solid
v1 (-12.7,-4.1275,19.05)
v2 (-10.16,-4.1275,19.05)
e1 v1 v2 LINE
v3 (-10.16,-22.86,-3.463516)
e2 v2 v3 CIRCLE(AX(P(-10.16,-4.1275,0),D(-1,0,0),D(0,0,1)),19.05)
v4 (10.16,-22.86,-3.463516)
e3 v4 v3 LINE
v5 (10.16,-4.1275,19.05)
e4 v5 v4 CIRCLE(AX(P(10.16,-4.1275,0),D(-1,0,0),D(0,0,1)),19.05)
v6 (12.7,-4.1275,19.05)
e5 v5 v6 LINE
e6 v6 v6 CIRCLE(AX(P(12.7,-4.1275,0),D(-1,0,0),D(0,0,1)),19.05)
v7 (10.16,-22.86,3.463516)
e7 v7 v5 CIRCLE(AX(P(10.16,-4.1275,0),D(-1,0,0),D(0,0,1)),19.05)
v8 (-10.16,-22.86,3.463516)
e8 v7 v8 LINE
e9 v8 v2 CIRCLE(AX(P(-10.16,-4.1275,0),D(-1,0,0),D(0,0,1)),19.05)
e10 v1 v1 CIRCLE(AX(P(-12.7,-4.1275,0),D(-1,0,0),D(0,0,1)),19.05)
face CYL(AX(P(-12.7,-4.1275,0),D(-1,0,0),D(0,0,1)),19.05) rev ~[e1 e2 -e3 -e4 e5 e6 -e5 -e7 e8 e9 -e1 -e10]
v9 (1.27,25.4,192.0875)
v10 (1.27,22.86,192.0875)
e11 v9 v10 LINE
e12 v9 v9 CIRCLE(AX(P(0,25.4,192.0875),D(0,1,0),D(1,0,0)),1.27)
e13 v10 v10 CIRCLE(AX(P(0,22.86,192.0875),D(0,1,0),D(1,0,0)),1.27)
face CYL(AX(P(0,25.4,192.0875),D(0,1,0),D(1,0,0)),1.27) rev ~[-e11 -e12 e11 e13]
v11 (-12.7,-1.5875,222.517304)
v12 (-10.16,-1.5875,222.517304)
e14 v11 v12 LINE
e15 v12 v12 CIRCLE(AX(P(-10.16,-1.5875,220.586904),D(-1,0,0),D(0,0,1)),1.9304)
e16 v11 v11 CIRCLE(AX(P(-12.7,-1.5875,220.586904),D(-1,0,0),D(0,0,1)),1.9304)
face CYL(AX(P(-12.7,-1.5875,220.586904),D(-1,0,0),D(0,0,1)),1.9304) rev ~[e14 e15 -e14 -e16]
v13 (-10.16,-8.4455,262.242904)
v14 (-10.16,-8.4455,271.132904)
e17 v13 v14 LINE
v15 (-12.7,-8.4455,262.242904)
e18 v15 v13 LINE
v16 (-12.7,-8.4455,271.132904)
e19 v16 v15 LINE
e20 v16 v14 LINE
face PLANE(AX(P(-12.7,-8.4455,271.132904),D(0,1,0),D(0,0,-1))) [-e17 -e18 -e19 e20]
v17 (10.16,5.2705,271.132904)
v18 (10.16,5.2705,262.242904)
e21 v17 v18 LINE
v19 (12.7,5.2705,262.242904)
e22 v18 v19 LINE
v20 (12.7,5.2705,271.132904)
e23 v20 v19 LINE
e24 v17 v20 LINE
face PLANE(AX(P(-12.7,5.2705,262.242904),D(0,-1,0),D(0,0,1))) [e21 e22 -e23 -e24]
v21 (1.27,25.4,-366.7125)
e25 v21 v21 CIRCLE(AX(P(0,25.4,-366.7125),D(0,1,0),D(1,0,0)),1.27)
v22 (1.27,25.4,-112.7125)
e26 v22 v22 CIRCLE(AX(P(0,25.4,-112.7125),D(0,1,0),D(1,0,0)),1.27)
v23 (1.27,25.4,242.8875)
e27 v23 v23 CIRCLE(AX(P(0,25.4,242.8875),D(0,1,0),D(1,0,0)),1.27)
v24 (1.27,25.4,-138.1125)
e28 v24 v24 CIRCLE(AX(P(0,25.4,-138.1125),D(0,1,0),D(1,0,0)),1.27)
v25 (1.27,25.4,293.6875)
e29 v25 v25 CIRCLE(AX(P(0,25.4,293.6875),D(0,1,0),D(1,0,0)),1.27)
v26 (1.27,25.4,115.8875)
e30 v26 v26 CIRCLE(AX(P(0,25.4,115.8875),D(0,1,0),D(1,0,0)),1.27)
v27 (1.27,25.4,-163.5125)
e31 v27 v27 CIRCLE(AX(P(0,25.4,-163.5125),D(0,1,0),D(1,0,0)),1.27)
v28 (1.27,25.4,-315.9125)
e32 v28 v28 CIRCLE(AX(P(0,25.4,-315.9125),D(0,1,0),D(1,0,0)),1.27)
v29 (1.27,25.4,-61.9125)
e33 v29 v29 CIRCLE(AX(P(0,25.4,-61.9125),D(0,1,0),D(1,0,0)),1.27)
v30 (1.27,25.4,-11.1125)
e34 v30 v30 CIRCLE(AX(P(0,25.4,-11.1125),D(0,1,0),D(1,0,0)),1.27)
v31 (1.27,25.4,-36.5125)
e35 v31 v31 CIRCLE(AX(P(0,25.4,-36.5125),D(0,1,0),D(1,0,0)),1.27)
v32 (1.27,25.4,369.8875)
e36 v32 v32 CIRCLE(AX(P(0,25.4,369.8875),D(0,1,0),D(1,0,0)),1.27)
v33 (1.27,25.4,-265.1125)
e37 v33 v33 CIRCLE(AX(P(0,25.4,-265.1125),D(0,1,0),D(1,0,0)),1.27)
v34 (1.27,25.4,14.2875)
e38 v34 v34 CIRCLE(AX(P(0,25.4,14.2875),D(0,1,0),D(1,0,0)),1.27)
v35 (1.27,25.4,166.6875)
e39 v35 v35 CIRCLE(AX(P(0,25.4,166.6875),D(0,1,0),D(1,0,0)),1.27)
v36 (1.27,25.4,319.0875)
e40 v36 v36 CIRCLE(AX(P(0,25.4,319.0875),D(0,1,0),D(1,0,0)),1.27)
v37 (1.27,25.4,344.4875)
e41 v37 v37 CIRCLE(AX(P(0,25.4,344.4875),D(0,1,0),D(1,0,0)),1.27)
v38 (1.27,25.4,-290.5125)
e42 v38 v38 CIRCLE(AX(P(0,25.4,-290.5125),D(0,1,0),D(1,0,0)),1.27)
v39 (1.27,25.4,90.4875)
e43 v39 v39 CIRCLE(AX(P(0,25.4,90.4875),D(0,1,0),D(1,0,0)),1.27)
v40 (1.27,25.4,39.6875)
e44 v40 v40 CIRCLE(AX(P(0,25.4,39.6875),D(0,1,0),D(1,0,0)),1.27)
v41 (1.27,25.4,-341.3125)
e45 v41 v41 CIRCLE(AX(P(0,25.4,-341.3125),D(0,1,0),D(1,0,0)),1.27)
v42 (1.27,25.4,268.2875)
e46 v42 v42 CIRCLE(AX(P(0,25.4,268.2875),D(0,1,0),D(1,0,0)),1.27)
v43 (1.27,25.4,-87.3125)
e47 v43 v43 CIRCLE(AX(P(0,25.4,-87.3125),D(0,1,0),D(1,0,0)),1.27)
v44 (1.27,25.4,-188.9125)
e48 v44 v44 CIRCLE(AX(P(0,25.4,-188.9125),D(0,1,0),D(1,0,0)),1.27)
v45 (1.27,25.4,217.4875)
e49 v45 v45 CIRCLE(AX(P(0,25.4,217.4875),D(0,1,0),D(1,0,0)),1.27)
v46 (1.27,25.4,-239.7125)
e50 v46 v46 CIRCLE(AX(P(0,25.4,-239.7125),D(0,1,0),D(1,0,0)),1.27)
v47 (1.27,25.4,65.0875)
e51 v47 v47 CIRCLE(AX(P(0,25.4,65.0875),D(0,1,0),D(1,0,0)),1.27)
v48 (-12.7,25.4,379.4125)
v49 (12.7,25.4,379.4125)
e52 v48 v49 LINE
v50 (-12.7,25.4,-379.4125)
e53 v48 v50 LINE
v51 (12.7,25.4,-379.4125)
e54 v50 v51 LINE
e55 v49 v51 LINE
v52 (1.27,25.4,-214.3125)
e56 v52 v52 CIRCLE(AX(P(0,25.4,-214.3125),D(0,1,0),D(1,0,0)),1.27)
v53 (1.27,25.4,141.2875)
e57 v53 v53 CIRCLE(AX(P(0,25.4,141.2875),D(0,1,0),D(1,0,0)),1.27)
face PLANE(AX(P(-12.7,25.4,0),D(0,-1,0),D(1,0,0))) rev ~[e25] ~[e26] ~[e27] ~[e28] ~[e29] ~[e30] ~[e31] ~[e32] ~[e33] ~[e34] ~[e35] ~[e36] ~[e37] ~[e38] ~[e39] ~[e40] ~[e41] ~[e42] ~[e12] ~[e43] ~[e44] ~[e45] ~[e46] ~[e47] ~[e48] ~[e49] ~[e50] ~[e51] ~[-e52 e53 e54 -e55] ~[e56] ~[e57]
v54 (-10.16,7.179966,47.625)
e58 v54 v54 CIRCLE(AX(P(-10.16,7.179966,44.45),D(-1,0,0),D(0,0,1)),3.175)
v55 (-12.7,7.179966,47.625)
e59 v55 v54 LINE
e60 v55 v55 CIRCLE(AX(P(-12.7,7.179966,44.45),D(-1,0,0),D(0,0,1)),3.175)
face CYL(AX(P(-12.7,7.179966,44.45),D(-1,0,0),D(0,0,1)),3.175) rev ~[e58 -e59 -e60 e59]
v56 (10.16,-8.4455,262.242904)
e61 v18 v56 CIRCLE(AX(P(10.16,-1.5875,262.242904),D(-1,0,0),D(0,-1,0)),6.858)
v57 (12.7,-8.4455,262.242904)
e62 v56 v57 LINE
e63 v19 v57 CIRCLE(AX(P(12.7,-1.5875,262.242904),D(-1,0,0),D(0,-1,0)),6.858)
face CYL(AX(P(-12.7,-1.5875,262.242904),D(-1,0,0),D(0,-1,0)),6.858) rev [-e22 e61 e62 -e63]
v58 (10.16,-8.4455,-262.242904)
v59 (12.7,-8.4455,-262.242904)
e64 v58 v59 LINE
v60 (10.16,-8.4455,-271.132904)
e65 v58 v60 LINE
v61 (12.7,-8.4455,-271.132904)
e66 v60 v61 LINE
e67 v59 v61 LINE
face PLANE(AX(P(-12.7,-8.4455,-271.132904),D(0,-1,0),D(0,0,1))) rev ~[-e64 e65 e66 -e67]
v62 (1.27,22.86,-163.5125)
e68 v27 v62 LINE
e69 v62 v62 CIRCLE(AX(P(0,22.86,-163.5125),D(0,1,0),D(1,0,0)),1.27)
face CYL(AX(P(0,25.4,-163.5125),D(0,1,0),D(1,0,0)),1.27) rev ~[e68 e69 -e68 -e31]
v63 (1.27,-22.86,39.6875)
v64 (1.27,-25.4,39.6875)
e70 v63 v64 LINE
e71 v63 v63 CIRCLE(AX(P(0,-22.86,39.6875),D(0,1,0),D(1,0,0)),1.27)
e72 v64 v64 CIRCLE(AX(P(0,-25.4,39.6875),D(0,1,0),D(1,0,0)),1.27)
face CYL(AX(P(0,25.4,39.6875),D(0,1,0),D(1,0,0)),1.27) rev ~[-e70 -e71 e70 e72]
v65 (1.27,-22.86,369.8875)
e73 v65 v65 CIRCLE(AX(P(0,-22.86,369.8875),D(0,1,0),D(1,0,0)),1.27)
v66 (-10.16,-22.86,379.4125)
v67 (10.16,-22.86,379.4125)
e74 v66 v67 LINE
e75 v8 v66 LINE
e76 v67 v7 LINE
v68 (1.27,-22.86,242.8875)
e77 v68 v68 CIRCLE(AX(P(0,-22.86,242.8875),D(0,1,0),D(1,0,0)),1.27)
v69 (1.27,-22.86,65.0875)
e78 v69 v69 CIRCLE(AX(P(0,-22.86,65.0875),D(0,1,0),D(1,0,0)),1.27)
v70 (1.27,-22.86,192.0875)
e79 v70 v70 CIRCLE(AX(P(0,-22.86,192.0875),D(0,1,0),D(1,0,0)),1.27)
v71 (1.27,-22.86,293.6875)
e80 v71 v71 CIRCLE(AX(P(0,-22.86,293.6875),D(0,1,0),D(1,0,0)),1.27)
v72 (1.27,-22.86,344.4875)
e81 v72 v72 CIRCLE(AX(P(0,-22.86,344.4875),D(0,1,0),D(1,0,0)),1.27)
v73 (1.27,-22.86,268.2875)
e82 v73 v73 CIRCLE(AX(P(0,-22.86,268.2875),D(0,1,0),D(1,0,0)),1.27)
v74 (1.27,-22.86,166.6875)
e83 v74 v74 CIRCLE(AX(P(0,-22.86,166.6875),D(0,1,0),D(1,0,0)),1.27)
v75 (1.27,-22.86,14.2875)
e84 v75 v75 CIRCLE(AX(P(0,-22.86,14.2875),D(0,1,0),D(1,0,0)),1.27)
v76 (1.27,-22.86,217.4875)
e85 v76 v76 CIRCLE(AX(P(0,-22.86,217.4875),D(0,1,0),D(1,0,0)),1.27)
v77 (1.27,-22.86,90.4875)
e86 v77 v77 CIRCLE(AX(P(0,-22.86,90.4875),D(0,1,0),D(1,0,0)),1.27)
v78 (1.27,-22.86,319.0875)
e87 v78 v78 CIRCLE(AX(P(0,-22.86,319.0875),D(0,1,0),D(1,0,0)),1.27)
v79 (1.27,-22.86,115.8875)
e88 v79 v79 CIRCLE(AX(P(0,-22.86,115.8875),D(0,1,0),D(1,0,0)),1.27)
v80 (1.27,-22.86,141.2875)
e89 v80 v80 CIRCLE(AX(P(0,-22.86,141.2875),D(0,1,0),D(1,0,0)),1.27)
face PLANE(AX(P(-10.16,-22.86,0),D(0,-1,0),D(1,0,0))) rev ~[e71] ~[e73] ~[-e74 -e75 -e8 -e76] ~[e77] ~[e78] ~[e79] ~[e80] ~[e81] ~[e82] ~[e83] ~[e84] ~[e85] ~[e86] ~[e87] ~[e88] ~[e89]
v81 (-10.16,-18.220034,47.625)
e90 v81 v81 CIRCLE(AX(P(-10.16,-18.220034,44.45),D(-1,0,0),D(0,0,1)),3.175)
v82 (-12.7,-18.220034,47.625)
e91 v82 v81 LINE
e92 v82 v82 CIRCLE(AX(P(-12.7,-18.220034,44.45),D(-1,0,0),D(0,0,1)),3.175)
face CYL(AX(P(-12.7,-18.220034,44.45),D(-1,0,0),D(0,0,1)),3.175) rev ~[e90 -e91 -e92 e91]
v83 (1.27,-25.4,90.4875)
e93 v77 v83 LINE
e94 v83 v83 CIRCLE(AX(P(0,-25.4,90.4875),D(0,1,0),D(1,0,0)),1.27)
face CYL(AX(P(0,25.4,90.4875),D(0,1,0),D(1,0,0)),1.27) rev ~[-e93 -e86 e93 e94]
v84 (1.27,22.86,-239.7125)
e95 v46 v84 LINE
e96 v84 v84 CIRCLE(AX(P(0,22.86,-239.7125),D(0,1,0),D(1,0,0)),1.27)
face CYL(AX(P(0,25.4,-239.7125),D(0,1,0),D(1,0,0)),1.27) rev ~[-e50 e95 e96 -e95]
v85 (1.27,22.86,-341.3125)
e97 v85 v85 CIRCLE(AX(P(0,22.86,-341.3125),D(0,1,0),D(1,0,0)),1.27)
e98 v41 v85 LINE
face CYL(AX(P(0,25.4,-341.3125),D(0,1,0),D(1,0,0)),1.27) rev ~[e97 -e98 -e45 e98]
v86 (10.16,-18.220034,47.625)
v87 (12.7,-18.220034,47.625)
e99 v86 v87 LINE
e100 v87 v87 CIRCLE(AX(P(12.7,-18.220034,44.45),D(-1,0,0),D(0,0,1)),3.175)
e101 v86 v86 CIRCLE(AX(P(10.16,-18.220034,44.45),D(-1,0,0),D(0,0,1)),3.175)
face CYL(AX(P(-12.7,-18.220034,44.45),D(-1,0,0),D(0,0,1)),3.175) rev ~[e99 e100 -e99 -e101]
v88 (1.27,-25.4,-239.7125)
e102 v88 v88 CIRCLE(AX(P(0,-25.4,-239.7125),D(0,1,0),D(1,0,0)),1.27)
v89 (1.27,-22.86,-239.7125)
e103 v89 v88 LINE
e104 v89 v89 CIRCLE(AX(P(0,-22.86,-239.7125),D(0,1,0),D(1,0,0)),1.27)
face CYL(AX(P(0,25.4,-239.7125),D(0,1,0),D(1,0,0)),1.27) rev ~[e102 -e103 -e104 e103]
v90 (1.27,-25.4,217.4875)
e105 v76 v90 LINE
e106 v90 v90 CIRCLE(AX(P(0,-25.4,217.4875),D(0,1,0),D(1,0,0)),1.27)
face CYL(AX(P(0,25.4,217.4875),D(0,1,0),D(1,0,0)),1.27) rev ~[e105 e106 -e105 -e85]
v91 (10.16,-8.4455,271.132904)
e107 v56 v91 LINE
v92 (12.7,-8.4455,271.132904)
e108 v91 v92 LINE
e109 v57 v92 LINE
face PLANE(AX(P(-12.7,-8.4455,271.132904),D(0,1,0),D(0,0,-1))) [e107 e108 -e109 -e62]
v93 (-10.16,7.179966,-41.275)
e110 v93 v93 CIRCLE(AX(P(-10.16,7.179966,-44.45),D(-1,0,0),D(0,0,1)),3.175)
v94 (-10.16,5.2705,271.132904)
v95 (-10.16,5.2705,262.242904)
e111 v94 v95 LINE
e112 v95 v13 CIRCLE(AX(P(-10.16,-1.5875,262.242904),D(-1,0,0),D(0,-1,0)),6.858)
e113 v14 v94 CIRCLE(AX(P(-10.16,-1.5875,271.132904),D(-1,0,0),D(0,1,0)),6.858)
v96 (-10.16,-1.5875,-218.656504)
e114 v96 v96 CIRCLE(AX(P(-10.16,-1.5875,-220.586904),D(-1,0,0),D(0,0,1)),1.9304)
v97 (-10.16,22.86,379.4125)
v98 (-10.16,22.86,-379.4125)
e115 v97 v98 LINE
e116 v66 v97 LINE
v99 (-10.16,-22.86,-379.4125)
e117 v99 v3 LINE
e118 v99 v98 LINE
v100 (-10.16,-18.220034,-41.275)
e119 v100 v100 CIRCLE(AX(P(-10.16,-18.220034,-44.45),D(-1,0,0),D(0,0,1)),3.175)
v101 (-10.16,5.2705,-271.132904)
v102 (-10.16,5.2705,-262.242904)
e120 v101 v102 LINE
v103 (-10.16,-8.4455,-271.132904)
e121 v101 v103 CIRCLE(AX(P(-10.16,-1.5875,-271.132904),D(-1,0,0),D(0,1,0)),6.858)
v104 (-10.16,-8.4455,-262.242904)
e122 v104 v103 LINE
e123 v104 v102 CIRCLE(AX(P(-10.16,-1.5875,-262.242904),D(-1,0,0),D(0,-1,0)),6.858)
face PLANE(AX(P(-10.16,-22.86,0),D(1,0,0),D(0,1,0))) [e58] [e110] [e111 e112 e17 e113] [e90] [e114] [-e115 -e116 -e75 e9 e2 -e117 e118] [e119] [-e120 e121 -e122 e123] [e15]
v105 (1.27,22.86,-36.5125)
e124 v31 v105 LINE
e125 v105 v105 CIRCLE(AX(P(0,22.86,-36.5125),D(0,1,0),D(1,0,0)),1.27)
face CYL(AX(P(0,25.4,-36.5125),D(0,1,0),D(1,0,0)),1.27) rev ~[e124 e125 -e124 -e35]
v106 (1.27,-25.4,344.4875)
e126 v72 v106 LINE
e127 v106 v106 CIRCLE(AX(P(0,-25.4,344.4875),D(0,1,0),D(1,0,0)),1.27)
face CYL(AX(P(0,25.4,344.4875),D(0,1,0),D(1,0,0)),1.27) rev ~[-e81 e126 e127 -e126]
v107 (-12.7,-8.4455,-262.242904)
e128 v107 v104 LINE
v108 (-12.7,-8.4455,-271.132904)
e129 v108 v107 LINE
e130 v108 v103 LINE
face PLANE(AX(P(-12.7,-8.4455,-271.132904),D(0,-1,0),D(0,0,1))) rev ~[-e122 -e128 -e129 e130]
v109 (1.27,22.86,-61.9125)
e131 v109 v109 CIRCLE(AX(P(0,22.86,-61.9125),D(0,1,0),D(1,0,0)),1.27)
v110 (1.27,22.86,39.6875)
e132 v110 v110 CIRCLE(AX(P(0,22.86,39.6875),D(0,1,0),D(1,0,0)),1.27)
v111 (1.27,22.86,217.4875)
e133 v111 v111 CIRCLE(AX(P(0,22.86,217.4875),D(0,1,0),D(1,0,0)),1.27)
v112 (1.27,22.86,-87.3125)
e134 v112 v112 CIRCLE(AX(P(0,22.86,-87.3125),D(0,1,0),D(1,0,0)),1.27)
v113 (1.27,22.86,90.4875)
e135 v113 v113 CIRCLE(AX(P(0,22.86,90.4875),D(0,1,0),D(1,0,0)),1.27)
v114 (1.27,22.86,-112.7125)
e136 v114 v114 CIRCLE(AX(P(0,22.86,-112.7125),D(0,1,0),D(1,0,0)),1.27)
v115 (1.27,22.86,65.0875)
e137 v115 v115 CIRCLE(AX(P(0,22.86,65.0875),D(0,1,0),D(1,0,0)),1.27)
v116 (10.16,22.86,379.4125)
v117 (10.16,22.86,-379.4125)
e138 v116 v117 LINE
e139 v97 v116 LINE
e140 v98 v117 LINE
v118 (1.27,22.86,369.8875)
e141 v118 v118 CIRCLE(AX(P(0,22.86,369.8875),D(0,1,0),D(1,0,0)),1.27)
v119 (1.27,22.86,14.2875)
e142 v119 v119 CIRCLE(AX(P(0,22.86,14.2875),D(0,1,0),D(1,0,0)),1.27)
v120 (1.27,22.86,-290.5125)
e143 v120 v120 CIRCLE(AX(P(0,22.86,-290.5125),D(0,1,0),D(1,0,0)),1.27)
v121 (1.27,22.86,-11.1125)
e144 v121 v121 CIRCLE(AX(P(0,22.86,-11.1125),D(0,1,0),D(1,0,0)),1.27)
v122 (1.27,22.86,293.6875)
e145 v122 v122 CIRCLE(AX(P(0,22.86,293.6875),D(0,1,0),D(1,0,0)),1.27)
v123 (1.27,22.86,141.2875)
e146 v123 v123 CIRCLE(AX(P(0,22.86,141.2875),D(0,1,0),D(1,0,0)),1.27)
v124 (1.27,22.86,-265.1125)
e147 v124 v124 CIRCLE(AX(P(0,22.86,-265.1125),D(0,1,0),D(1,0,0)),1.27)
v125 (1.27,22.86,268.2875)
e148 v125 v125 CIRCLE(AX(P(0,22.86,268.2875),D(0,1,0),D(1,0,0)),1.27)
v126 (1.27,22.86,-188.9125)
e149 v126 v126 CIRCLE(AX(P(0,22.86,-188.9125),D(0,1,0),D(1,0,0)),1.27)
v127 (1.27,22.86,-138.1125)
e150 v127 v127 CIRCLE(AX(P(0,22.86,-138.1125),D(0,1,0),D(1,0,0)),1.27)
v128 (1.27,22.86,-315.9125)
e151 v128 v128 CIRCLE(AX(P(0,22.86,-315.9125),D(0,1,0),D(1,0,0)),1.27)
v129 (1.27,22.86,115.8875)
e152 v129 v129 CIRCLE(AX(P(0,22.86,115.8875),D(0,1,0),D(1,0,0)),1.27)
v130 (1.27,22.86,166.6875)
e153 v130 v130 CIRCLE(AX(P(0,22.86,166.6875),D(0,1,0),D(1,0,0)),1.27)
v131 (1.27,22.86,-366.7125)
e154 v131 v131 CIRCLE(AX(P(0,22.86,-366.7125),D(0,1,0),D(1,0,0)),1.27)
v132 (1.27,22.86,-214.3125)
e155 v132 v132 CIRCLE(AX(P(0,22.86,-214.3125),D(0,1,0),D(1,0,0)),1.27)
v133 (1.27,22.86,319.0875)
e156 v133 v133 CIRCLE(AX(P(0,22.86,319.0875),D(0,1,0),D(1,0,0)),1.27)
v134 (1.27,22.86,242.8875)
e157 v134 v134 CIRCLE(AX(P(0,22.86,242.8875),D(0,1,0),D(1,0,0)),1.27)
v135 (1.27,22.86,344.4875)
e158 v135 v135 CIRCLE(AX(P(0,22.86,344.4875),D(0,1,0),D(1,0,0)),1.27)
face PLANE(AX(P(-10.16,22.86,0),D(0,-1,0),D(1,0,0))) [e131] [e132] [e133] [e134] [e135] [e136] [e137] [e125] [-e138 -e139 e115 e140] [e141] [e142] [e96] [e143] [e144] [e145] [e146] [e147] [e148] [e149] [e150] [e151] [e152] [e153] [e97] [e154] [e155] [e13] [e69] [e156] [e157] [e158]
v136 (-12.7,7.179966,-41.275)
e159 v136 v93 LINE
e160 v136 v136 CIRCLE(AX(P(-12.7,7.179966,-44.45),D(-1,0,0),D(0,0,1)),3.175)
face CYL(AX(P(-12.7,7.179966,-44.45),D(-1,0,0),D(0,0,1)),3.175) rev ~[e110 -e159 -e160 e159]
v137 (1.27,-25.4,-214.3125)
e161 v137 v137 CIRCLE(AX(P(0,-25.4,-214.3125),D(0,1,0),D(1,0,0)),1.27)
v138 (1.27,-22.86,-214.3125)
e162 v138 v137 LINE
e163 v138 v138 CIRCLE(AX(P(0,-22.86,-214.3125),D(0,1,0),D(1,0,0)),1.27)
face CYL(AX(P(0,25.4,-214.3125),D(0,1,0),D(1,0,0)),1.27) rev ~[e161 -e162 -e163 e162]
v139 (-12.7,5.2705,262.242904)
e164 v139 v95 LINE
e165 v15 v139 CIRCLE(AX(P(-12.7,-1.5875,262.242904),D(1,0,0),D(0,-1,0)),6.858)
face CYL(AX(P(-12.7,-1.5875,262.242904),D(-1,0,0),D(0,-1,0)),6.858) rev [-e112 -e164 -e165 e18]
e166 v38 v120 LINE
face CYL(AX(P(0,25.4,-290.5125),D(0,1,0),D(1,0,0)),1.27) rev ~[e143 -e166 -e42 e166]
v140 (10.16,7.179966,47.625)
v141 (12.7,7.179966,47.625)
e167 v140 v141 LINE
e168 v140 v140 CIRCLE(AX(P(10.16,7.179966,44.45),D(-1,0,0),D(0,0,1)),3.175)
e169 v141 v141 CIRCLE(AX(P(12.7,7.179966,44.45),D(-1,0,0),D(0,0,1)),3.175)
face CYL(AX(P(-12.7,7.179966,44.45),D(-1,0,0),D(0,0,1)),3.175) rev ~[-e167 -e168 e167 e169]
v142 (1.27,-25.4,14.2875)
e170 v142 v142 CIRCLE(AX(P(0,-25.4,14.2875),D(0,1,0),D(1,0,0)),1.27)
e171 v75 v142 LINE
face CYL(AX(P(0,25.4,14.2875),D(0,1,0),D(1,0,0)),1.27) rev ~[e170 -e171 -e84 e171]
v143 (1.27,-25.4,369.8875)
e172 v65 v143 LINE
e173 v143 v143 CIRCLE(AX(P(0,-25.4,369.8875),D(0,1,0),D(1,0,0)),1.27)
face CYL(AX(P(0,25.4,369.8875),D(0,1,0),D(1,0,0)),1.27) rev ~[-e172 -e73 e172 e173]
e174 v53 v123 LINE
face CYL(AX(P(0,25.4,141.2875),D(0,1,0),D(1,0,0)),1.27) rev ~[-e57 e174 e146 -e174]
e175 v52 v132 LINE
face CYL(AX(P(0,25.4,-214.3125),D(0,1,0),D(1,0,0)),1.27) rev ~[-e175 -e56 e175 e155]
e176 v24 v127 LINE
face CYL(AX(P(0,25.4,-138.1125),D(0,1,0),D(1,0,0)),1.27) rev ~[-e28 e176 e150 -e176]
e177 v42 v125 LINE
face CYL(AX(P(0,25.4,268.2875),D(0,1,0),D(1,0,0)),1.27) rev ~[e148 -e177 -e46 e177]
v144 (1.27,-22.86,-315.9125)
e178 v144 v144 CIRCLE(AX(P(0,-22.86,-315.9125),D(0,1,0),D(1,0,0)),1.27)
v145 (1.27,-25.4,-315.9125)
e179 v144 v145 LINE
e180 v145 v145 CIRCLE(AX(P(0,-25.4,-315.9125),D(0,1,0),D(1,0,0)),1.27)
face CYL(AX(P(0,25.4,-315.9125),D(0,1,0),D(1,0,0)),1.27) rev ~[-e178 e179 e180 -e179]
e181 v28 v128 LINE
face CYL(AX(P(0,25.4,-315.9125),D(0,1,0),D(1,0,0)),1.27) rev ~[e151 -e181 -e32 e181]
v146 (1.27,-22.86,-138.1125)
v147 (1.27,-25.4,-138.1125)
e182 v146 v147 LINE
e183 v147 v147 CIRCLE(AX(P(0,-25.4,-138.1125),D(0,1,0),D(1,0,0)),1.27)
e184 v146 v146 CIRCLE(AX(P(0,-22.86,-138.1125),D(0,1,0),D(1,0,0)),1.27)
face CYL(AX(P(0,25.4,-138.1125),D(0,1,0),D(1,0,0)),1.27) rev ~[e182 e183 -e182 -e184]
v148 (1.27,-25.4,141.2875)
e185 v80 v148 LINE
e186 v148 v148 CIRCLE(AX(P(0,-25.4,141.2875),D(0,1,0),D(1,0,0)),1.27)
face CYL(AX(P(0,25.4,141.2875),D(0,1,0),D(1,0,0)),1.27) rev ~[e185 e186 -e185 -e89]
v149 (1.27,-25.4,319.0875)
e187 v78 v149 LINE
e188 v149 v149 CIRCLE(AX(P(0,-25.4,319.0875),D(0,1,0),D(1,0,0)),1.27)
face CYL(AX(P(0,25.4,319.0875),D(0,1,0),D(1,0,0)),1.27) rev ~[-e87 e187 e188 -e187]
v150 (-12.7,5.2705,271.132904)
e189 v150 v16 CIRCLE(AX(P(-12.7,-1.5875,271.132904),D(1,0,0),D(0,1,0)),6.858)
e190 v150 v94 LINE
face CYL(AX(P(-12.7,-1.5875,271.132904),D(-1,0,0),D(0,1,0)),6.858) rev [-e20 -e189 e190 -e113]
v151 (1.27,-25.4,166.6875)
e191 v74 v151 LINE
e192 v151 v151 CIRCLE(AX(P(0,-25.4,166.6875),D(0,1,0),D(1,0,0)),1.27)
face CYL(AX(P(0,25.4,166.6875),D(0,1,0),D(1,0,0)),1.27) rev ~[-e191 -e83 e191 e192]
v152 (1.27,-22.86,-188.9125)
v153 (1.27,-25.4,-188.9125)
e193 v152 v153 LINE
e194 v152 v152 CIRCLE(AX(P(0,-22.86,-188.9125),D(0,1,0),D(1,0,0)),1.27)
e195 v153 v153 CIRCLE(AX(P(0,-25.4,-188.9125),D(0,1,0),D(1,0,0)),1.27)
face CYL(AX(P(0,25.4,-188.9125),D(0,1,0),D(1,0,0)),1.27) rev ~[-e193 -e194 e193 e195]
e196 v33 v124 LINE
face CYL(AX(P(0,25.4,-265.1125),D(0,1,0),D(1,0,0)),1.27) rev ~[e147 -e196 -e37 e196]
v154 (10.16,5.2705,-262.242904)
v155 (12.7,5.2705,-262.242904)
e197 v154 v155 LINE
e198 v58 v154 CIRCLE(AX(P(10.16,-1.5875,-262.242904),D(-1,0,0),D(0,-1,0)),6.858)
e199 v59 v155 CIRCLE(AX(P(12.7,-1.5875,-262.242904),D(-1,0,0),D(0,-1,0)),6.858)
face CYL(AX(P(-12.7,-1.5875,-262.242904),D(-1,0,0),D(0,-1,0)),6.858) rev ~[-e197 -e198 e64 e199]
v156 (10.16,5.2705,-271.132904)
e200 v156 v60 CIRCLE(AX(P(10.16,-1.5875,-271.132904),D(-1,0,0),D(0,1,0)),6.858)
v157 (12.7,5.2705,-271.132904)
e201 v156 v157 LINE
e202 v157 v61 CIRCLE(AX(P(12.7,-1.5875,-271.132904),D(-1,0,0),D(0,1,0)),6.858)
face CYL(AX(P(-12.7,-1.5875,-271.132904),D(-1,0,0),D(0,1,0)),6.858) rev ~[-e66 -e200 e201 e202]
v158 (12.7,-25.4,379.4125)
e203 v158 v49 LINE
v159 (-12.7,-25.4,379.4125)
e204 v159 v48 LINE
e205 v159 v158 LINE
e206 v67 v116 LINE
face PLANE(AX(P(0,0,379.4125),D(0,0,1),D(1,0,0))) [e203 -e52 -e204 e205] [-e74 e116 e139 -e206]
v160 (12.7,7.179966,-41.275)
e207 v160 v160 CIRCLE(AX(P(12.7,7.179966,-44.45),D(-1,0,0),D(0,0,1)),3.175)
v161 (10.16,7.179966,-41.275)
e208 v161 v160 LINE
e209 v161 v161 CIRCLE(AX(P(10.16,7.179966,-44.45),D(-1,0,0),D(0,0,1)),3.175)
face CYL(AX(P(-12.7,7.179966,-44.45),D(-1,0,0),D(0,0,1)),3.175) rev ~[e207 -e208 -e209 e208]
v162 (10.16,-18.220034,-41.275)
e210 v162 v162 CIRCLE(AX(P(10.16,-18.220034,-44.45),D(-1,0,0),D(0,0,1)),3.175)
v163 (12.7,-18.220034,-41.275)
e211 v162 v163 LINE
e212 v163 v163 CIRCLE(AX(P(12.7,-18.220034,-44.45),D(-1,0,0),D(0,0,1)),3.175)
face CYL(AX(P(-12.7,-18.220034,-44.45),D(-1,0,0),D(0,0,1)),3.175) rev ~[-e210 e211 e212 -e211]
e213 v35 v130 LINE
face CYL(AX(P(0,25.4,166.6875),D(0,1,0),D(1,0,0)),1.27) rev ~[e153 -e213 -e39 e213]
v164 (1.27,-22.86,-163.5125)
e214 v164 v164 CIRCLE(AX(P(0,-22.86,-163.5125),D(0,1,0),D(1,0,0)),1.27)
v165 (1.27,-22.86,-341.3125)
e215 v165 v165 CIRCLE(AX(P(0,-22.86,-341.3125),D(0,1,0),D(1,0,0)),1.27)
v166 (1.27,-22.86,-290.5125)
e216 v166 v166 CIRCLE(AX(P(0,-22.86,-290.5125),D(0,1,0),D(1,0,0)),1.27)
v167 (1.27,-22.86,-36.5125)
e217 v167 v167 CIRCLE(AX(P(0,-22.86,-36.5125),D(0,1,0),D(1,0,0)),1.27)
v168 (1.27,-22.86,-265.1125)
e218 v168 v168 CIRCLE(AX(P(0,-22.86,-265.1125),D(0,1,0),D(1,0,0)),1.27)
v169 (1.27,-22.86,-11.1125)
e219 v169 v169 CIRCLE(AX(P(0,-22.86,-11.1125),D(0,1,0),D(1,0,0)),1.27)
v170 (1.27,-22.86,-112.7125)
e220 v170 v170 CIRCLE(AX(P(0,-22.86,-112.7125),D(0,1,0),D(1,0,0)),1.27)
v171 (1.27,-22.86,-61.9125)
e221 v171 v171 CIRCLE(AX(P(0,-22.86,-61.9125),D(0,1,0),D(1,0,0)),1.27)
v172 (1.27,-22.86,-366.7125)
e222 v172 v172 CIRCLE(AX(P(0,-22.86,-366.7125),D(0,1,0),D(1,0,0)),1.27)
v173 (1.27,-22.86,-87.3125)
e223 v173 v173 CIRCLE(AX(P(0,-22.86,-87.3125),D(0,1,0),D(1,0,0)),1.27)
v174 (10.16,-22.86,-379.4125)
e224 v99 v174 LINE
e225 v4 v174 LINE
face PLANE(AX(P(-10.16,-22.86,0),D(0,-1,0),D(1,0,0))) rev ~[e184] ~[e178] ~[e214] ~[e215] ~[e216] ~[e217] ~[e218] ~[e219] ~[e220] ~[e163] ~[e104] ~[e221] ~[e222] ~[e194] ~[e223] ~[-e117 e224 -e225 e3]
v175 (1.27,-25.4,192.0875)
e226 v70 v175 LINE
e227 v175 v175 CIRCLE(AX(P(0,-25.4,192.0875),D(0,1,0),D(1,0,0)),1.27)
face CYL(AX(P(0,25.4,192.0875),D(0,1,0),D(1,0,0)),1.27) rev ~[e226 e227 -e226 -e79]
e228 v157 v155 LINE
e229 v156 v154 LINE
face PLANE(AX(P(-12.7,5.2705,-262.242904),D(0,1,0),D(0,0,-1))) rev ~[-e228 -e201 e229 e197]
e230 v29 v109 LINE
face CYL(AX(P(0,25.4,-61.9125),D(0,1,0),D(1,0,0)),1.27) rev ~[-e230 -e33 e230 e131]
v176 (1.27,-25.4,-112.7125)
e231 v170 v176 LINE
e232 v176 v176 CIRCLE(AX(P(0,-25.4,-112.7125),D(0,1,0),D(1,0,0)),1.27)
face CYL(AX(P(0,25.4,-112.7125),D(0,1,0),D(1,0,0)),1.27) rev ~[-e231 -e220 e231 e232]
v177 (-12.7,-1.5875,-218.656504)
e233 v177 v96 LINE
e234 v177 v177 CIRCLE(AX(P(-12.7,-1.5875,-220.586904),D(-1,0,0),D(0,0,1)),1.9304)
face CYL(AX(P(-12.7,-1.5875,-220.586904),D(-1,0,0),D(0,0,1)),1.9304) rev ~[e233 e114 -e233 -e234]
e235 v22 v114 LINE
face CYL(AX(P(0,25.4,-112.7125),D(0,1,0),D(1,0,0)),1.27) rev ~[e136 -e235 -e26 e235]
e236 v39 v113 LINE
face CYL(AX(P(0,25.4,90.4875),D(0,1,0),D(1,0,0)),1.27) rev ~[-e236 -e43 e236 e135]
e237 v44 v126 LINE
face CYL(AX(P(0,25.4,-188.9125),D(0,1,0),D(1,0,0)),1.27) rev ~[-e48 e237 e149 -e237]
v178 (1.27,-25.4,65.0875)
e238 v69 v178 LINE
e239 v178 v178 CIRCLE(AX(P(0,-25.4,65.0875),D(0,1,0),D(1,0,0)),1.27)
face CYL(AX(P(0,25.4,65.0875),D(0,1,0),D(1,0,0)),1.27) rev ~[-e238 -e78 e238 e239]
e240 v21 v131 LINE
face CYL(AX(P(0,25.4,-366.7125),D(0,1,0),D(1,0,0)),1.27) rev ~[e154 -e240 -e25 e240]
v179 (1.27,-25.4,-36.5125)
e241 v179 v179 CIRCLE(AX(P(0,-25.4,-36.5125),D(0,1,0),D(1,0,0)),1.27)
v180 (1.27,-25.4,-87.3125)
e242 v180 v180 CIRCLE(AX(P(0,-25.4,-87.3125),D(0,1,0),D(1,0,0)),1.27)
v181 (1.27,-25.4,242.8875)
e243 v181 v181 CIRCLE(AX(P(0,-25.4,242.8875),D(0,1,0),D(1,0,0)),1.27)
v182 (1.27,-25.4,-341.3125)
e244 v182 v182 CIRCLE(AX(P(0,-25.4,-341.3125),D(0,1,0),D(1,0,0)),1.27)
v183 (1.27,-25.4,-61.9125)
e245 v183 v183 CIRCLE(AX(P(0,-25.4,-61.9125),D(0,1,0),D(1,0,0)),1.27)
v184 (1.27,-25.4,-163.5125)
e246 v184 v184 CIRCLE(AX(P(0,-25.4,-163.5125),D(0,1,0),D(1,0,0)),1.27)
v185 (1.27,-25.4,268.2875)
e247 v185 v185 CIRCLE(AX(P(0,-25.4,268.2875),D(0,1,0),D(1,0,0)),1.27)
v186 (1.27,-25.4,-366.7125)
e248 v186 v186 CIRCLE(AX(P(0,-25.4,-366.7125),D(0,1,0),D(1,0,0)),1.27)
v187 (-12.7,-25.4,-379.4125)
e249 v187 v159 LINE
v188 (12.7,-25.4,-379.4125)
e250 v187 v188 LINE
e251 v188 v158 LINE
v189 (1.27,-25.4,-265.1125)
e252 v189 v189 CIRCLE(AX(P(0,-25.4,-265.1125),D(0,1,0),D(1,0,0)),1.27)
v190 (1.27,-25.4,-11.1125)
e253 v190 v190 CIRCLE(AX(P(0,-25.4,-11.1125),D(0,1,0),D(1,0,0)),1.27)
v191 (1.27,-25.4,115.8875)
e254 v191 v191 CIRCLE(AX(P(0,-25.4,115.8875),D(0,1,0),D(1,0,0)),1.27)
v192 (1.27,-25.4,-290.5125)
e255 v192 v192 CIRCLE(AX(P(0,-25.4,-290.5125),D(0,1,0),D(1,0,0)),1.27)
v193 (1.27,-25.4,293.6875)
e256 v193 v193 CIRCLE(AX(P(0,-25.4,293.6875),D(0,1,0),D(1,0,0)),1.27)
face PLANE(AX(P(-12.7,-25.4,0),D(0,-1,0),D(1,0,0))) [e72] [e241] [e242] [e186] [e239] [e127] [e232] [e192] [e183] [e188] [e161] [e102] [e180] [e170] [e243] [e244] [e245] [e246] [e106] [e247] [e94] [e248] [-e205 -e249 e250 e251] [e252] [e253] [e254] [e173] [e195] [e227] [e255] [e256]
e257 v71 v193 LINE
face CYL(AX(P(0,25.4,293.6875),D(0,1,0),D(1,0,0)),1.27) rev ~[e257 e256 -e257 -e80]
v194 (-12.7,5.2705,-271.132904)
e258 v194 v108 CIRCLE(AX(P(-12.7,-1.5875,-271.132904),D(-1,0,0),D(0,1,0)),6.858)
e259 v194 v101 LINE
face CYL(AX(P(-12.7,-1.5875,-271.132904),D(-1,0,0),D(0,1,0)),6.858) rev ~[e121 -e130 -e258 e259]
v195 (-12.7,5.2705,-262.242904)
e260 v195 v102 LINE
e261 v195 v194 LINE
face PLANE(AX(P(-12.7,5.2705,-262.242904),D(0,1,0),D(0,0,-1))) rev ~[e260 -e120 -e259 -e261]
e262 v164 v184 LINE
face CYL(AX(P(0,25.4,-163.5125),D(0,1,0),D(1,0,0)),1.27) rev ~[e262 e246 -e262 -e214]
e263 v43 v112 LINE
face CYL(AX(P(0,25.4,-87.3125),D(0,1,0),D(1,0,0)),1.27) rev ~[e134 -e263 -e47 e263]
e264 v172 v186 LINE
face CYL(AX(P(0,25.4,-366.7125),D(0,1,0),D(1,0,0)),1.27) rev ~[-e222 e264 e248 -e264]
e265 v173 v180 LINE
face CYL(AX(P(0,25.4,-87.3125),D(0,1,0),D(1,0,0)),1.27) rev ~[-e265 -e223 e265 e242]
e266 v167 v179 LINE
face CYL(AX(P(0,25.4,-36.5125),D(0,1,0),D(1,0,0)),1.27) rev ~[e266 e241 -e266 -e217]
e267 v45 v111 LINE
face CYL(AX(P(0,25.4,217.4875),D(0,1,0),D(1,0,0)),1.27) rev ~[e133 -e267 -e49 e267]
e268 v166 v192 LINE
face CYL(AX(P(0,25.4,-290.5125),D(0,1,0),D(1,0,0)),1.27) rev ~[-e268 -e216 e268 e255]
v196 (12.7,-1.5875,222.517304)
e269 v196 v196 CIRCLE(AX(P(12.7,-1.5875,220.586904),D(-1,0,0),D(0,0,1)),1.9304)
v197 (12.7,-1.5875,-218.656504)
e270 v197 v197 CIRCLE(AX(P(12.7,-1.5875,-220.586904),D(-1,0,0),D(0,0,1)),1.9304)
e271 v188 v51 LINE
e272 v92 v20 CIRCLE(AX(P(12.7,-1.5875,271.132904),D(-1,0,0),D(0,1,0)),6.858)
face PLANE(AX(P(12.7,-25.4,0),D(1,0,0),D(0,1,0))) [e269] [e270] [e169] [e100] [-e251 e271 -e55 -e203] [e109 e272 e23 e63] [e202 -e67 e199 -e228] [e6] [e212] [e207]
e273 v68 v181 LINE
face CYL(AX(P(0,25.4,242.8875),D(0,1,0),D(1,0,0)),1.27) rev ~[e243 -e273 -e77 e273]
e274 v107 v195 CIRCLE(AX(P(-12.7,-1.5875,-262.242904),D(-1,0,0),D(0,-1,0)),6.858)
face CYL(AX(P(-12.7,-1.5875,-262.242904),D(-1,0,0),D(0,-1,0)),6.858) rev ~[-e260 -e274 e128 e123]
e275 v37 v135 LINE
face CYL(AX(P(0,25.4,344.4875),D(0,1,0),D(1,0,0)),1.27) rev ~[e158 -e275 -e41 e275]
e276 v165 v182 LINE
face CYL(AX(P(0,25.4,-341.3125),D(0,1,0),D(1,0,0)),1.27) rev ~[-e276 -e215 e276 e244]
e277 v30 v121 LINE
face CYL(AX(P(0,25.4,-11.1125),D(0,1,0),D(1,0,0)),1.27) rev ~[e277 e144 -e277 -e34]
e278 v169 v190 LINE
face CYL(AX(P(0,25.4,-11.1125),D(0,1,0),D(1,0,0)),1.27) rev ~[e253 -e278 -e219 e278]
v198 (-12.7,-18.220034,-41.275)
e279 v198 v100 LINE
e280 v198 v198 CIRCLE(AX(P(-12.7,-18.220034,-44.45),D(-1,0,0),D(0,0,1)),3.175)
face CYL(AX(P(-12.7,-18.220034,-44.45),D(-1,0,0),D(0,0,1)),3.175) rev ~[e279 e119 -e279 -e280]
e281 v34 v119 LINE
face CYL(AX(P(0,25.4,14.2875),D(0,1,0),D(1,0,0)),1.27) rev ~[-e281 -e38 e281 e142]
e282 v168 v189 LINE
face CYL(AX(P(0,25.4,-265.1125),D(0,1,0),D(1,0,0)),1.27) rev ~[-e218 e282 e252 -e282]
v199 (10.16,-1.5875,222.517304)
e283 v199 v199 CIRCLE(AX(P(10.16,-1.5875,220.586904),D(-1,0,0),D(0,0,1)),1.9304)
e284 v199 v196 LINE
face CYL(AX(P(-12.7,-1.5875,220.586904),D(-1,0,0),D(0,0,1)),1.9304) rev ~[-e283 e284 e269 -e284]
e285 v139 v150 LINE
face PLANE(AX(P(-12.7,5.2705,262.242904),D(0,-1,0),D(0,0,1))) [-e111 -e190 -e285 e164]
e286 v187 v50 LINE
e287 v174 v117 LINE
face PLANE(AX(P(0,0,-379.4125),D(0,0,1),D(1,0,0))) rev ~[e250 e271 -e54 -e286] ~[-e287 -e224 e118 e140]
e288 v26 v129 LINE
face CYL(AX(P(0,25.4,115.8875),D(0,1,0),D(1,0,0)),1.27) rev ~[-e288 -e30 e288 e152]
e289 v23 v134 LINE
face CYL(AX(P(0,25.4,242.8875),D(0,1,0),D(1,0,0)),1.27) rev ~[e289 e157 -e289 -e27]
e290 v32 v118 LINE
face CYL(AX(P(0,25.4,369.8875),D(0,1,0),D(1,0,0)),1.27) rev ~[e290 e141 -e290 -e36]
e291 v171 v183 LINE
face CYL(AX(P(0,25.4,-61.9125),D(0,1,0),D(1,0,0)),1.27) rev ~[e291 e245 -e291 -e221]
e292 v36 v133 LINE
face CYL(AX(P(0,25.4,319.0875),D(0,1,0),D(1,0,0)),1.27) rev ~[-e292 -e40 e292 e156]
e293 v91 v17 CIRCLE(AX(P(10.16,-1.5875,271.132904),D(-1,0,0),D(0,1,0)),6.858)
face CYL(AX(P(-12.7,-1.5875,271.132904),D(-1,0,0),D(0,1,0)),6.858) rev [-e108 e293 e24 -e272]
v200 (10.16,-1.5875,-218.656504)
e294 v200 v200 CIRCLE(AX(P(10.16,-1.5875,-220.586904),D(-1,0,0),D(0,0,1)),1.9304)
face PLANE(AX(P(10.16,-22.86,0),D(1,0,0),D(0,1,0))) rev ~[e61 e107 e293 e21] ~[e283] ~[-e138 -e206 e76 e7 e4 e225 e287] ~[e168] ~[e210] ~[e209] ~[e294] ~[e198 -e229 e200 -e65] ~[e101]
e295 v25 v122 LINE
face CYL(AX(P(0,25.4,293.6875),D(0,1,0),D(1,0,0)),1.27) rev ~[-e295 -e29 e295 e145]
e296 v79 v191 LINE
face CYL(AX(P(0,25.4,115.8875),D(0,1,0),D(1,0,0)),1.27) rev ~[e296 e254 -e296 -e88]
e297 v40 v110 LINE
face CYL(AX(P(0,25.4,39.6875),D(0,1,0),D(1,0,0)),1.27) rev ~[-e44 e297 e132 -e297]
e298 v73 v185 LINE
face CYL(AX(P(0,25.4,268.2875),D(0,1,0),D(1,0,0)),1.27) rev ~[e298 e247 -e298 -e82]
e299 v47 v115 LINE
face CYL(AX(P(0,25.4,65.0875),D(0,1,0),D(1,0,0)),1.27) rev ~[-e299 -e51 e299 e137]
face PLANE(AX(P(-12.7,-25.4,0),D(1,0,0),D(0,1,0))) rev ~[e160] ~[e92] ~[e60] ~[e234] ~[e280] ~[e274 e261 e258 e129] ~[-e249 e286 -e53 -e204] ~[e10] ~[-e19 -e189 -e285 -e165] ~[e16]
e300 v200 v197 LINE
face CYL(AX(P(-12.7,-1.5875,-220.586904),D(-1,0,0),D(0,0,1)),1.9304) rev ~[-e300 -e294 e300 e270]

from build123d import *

# Parameters (mm, degrees)
SKETCH1_W           = 25.4
SKETCH1_H           = 50.8
SKETCH1_W_2         = 20.32
SKETCH1_H_2         = 45.72
EXTRUDE_THIN1_DEPTH = 379.4125
SKETCH2_R           = 1.27
CUT_EXTRUDE1_DEPTH  = 51.8
LPATTERN1_COUNT     = 30
LPATTERN1_PITCH     = 25.4
SKETCH4_R           = 19.05
SKETCH4_R_2         = 1.9304
CUT_EXTRUDE2_DEPTH  = 26.4
SKETCH5_R           = 3.175
CUT_EXTRUDE3_DEPTH  = 26.4


with BuildPart() as part:
    # Sketch1 → Extrude-Thin1 (new body, symmetric)
    with BuildSketch(Plane.XY):
        Rectangle(SKETCH1_W, SKETCH1_H)
        Rectangle(SKETCH1_W_2, SKETCH1_H_2, mode=Mode.SUBTRACT)
    extrude(amount=EXTRUDE_THIN1_DEPTH, both=True)

    # Sketch2 → Cut-Extrude1 (cut, through all)
    with BuildSketch(Plane(origin=(0, 25.4, 0), x_dir=(1, 0, 0), z_dir=(0, 1, 0))):
        with Locations((0, 366.7125)):
            Circle(SKETCH2_R)
    cut_extrude1 = extrude(amount=-CUT_EXTRUDE1_DEPTH, mode=Mode.SUBTRACT)

    # LPattern1: Cut-Extrude1 ×30
    with Locations(*[(0, 0, i * LPATTERN1_PITCH) for i in range(1, LPATTERN1_COUNT)]):
        add(cut_extrude1, mode=Mode.SUBTRACT)

    # Sketch4 → Cut-Extrude2 (cut, through all)
    with BuildSketch(Plane.ZY.offset(12.7)):
        with Locations((0, -4.1275)):
            Circle(SKETCH4_R)
        with Locations((-220.586904488, -1.5875)):
            Circle(SKETCH4_R_2)
        with Locations((220.586904488, -1.5875)):
            Circle(SKETCH4_R_2)
        with BuildLine():
            Line((-262.242904488, 5.2705), (-271.132904488, 5.2705))
            ThreePointArc((-271.132904488, 5.2705), (-277.990904488, -1.5875), (-271.132904488, -8.4455))
            Line((-271.132904488, -8.4455), (-262.242904488, -8.4455))
            ThreePointArc((-262.242904488, -8.4455), (-255.384904488, -1.5875), (-262.242904488, 5.2705))
        make_face()
        with BuildLine():
            Line((262.242904488, 5.2705), (271.132904488, 5.2705))
            ThreePointArc((271.132904488, 5.2705), (277.990904488, -1.5875), (271.132904488, -8.4455))
            Line((271.132904488, -8.4455), (262.242904488, -8.4455))
            ThreePointArc((262.242904488, -8.4455), (255.384904488, -1.5875), (262.242904488, 5.2705))
        make_face()
    extrude(amount=-CUT_EXTRUDE2_DEPTH, mode=Mode.SUBTRACT)

    # Sketch5 → Cut-Extrude3 (cut, through all)
    with BuildSketch(Plane.ZY.offset(12.7)):
        with Locations((-44.45, 7.179966082)):
            Circle(SKETCH5_R)
        with Locations((-44.45, -18.220033918)):
            Circle(SKETCH5_R)
        with Locations((44.45, 7.179966082)):
            Circle(SKETCH5_R)
        with Locations((44.45, -18.220033918)):
            Circle(SKETCH5_R)
    extrude(amount=-CUT_EXTRUDE3_DEPTH, mode=Mode.SUBTRACT)


solid = part.part
